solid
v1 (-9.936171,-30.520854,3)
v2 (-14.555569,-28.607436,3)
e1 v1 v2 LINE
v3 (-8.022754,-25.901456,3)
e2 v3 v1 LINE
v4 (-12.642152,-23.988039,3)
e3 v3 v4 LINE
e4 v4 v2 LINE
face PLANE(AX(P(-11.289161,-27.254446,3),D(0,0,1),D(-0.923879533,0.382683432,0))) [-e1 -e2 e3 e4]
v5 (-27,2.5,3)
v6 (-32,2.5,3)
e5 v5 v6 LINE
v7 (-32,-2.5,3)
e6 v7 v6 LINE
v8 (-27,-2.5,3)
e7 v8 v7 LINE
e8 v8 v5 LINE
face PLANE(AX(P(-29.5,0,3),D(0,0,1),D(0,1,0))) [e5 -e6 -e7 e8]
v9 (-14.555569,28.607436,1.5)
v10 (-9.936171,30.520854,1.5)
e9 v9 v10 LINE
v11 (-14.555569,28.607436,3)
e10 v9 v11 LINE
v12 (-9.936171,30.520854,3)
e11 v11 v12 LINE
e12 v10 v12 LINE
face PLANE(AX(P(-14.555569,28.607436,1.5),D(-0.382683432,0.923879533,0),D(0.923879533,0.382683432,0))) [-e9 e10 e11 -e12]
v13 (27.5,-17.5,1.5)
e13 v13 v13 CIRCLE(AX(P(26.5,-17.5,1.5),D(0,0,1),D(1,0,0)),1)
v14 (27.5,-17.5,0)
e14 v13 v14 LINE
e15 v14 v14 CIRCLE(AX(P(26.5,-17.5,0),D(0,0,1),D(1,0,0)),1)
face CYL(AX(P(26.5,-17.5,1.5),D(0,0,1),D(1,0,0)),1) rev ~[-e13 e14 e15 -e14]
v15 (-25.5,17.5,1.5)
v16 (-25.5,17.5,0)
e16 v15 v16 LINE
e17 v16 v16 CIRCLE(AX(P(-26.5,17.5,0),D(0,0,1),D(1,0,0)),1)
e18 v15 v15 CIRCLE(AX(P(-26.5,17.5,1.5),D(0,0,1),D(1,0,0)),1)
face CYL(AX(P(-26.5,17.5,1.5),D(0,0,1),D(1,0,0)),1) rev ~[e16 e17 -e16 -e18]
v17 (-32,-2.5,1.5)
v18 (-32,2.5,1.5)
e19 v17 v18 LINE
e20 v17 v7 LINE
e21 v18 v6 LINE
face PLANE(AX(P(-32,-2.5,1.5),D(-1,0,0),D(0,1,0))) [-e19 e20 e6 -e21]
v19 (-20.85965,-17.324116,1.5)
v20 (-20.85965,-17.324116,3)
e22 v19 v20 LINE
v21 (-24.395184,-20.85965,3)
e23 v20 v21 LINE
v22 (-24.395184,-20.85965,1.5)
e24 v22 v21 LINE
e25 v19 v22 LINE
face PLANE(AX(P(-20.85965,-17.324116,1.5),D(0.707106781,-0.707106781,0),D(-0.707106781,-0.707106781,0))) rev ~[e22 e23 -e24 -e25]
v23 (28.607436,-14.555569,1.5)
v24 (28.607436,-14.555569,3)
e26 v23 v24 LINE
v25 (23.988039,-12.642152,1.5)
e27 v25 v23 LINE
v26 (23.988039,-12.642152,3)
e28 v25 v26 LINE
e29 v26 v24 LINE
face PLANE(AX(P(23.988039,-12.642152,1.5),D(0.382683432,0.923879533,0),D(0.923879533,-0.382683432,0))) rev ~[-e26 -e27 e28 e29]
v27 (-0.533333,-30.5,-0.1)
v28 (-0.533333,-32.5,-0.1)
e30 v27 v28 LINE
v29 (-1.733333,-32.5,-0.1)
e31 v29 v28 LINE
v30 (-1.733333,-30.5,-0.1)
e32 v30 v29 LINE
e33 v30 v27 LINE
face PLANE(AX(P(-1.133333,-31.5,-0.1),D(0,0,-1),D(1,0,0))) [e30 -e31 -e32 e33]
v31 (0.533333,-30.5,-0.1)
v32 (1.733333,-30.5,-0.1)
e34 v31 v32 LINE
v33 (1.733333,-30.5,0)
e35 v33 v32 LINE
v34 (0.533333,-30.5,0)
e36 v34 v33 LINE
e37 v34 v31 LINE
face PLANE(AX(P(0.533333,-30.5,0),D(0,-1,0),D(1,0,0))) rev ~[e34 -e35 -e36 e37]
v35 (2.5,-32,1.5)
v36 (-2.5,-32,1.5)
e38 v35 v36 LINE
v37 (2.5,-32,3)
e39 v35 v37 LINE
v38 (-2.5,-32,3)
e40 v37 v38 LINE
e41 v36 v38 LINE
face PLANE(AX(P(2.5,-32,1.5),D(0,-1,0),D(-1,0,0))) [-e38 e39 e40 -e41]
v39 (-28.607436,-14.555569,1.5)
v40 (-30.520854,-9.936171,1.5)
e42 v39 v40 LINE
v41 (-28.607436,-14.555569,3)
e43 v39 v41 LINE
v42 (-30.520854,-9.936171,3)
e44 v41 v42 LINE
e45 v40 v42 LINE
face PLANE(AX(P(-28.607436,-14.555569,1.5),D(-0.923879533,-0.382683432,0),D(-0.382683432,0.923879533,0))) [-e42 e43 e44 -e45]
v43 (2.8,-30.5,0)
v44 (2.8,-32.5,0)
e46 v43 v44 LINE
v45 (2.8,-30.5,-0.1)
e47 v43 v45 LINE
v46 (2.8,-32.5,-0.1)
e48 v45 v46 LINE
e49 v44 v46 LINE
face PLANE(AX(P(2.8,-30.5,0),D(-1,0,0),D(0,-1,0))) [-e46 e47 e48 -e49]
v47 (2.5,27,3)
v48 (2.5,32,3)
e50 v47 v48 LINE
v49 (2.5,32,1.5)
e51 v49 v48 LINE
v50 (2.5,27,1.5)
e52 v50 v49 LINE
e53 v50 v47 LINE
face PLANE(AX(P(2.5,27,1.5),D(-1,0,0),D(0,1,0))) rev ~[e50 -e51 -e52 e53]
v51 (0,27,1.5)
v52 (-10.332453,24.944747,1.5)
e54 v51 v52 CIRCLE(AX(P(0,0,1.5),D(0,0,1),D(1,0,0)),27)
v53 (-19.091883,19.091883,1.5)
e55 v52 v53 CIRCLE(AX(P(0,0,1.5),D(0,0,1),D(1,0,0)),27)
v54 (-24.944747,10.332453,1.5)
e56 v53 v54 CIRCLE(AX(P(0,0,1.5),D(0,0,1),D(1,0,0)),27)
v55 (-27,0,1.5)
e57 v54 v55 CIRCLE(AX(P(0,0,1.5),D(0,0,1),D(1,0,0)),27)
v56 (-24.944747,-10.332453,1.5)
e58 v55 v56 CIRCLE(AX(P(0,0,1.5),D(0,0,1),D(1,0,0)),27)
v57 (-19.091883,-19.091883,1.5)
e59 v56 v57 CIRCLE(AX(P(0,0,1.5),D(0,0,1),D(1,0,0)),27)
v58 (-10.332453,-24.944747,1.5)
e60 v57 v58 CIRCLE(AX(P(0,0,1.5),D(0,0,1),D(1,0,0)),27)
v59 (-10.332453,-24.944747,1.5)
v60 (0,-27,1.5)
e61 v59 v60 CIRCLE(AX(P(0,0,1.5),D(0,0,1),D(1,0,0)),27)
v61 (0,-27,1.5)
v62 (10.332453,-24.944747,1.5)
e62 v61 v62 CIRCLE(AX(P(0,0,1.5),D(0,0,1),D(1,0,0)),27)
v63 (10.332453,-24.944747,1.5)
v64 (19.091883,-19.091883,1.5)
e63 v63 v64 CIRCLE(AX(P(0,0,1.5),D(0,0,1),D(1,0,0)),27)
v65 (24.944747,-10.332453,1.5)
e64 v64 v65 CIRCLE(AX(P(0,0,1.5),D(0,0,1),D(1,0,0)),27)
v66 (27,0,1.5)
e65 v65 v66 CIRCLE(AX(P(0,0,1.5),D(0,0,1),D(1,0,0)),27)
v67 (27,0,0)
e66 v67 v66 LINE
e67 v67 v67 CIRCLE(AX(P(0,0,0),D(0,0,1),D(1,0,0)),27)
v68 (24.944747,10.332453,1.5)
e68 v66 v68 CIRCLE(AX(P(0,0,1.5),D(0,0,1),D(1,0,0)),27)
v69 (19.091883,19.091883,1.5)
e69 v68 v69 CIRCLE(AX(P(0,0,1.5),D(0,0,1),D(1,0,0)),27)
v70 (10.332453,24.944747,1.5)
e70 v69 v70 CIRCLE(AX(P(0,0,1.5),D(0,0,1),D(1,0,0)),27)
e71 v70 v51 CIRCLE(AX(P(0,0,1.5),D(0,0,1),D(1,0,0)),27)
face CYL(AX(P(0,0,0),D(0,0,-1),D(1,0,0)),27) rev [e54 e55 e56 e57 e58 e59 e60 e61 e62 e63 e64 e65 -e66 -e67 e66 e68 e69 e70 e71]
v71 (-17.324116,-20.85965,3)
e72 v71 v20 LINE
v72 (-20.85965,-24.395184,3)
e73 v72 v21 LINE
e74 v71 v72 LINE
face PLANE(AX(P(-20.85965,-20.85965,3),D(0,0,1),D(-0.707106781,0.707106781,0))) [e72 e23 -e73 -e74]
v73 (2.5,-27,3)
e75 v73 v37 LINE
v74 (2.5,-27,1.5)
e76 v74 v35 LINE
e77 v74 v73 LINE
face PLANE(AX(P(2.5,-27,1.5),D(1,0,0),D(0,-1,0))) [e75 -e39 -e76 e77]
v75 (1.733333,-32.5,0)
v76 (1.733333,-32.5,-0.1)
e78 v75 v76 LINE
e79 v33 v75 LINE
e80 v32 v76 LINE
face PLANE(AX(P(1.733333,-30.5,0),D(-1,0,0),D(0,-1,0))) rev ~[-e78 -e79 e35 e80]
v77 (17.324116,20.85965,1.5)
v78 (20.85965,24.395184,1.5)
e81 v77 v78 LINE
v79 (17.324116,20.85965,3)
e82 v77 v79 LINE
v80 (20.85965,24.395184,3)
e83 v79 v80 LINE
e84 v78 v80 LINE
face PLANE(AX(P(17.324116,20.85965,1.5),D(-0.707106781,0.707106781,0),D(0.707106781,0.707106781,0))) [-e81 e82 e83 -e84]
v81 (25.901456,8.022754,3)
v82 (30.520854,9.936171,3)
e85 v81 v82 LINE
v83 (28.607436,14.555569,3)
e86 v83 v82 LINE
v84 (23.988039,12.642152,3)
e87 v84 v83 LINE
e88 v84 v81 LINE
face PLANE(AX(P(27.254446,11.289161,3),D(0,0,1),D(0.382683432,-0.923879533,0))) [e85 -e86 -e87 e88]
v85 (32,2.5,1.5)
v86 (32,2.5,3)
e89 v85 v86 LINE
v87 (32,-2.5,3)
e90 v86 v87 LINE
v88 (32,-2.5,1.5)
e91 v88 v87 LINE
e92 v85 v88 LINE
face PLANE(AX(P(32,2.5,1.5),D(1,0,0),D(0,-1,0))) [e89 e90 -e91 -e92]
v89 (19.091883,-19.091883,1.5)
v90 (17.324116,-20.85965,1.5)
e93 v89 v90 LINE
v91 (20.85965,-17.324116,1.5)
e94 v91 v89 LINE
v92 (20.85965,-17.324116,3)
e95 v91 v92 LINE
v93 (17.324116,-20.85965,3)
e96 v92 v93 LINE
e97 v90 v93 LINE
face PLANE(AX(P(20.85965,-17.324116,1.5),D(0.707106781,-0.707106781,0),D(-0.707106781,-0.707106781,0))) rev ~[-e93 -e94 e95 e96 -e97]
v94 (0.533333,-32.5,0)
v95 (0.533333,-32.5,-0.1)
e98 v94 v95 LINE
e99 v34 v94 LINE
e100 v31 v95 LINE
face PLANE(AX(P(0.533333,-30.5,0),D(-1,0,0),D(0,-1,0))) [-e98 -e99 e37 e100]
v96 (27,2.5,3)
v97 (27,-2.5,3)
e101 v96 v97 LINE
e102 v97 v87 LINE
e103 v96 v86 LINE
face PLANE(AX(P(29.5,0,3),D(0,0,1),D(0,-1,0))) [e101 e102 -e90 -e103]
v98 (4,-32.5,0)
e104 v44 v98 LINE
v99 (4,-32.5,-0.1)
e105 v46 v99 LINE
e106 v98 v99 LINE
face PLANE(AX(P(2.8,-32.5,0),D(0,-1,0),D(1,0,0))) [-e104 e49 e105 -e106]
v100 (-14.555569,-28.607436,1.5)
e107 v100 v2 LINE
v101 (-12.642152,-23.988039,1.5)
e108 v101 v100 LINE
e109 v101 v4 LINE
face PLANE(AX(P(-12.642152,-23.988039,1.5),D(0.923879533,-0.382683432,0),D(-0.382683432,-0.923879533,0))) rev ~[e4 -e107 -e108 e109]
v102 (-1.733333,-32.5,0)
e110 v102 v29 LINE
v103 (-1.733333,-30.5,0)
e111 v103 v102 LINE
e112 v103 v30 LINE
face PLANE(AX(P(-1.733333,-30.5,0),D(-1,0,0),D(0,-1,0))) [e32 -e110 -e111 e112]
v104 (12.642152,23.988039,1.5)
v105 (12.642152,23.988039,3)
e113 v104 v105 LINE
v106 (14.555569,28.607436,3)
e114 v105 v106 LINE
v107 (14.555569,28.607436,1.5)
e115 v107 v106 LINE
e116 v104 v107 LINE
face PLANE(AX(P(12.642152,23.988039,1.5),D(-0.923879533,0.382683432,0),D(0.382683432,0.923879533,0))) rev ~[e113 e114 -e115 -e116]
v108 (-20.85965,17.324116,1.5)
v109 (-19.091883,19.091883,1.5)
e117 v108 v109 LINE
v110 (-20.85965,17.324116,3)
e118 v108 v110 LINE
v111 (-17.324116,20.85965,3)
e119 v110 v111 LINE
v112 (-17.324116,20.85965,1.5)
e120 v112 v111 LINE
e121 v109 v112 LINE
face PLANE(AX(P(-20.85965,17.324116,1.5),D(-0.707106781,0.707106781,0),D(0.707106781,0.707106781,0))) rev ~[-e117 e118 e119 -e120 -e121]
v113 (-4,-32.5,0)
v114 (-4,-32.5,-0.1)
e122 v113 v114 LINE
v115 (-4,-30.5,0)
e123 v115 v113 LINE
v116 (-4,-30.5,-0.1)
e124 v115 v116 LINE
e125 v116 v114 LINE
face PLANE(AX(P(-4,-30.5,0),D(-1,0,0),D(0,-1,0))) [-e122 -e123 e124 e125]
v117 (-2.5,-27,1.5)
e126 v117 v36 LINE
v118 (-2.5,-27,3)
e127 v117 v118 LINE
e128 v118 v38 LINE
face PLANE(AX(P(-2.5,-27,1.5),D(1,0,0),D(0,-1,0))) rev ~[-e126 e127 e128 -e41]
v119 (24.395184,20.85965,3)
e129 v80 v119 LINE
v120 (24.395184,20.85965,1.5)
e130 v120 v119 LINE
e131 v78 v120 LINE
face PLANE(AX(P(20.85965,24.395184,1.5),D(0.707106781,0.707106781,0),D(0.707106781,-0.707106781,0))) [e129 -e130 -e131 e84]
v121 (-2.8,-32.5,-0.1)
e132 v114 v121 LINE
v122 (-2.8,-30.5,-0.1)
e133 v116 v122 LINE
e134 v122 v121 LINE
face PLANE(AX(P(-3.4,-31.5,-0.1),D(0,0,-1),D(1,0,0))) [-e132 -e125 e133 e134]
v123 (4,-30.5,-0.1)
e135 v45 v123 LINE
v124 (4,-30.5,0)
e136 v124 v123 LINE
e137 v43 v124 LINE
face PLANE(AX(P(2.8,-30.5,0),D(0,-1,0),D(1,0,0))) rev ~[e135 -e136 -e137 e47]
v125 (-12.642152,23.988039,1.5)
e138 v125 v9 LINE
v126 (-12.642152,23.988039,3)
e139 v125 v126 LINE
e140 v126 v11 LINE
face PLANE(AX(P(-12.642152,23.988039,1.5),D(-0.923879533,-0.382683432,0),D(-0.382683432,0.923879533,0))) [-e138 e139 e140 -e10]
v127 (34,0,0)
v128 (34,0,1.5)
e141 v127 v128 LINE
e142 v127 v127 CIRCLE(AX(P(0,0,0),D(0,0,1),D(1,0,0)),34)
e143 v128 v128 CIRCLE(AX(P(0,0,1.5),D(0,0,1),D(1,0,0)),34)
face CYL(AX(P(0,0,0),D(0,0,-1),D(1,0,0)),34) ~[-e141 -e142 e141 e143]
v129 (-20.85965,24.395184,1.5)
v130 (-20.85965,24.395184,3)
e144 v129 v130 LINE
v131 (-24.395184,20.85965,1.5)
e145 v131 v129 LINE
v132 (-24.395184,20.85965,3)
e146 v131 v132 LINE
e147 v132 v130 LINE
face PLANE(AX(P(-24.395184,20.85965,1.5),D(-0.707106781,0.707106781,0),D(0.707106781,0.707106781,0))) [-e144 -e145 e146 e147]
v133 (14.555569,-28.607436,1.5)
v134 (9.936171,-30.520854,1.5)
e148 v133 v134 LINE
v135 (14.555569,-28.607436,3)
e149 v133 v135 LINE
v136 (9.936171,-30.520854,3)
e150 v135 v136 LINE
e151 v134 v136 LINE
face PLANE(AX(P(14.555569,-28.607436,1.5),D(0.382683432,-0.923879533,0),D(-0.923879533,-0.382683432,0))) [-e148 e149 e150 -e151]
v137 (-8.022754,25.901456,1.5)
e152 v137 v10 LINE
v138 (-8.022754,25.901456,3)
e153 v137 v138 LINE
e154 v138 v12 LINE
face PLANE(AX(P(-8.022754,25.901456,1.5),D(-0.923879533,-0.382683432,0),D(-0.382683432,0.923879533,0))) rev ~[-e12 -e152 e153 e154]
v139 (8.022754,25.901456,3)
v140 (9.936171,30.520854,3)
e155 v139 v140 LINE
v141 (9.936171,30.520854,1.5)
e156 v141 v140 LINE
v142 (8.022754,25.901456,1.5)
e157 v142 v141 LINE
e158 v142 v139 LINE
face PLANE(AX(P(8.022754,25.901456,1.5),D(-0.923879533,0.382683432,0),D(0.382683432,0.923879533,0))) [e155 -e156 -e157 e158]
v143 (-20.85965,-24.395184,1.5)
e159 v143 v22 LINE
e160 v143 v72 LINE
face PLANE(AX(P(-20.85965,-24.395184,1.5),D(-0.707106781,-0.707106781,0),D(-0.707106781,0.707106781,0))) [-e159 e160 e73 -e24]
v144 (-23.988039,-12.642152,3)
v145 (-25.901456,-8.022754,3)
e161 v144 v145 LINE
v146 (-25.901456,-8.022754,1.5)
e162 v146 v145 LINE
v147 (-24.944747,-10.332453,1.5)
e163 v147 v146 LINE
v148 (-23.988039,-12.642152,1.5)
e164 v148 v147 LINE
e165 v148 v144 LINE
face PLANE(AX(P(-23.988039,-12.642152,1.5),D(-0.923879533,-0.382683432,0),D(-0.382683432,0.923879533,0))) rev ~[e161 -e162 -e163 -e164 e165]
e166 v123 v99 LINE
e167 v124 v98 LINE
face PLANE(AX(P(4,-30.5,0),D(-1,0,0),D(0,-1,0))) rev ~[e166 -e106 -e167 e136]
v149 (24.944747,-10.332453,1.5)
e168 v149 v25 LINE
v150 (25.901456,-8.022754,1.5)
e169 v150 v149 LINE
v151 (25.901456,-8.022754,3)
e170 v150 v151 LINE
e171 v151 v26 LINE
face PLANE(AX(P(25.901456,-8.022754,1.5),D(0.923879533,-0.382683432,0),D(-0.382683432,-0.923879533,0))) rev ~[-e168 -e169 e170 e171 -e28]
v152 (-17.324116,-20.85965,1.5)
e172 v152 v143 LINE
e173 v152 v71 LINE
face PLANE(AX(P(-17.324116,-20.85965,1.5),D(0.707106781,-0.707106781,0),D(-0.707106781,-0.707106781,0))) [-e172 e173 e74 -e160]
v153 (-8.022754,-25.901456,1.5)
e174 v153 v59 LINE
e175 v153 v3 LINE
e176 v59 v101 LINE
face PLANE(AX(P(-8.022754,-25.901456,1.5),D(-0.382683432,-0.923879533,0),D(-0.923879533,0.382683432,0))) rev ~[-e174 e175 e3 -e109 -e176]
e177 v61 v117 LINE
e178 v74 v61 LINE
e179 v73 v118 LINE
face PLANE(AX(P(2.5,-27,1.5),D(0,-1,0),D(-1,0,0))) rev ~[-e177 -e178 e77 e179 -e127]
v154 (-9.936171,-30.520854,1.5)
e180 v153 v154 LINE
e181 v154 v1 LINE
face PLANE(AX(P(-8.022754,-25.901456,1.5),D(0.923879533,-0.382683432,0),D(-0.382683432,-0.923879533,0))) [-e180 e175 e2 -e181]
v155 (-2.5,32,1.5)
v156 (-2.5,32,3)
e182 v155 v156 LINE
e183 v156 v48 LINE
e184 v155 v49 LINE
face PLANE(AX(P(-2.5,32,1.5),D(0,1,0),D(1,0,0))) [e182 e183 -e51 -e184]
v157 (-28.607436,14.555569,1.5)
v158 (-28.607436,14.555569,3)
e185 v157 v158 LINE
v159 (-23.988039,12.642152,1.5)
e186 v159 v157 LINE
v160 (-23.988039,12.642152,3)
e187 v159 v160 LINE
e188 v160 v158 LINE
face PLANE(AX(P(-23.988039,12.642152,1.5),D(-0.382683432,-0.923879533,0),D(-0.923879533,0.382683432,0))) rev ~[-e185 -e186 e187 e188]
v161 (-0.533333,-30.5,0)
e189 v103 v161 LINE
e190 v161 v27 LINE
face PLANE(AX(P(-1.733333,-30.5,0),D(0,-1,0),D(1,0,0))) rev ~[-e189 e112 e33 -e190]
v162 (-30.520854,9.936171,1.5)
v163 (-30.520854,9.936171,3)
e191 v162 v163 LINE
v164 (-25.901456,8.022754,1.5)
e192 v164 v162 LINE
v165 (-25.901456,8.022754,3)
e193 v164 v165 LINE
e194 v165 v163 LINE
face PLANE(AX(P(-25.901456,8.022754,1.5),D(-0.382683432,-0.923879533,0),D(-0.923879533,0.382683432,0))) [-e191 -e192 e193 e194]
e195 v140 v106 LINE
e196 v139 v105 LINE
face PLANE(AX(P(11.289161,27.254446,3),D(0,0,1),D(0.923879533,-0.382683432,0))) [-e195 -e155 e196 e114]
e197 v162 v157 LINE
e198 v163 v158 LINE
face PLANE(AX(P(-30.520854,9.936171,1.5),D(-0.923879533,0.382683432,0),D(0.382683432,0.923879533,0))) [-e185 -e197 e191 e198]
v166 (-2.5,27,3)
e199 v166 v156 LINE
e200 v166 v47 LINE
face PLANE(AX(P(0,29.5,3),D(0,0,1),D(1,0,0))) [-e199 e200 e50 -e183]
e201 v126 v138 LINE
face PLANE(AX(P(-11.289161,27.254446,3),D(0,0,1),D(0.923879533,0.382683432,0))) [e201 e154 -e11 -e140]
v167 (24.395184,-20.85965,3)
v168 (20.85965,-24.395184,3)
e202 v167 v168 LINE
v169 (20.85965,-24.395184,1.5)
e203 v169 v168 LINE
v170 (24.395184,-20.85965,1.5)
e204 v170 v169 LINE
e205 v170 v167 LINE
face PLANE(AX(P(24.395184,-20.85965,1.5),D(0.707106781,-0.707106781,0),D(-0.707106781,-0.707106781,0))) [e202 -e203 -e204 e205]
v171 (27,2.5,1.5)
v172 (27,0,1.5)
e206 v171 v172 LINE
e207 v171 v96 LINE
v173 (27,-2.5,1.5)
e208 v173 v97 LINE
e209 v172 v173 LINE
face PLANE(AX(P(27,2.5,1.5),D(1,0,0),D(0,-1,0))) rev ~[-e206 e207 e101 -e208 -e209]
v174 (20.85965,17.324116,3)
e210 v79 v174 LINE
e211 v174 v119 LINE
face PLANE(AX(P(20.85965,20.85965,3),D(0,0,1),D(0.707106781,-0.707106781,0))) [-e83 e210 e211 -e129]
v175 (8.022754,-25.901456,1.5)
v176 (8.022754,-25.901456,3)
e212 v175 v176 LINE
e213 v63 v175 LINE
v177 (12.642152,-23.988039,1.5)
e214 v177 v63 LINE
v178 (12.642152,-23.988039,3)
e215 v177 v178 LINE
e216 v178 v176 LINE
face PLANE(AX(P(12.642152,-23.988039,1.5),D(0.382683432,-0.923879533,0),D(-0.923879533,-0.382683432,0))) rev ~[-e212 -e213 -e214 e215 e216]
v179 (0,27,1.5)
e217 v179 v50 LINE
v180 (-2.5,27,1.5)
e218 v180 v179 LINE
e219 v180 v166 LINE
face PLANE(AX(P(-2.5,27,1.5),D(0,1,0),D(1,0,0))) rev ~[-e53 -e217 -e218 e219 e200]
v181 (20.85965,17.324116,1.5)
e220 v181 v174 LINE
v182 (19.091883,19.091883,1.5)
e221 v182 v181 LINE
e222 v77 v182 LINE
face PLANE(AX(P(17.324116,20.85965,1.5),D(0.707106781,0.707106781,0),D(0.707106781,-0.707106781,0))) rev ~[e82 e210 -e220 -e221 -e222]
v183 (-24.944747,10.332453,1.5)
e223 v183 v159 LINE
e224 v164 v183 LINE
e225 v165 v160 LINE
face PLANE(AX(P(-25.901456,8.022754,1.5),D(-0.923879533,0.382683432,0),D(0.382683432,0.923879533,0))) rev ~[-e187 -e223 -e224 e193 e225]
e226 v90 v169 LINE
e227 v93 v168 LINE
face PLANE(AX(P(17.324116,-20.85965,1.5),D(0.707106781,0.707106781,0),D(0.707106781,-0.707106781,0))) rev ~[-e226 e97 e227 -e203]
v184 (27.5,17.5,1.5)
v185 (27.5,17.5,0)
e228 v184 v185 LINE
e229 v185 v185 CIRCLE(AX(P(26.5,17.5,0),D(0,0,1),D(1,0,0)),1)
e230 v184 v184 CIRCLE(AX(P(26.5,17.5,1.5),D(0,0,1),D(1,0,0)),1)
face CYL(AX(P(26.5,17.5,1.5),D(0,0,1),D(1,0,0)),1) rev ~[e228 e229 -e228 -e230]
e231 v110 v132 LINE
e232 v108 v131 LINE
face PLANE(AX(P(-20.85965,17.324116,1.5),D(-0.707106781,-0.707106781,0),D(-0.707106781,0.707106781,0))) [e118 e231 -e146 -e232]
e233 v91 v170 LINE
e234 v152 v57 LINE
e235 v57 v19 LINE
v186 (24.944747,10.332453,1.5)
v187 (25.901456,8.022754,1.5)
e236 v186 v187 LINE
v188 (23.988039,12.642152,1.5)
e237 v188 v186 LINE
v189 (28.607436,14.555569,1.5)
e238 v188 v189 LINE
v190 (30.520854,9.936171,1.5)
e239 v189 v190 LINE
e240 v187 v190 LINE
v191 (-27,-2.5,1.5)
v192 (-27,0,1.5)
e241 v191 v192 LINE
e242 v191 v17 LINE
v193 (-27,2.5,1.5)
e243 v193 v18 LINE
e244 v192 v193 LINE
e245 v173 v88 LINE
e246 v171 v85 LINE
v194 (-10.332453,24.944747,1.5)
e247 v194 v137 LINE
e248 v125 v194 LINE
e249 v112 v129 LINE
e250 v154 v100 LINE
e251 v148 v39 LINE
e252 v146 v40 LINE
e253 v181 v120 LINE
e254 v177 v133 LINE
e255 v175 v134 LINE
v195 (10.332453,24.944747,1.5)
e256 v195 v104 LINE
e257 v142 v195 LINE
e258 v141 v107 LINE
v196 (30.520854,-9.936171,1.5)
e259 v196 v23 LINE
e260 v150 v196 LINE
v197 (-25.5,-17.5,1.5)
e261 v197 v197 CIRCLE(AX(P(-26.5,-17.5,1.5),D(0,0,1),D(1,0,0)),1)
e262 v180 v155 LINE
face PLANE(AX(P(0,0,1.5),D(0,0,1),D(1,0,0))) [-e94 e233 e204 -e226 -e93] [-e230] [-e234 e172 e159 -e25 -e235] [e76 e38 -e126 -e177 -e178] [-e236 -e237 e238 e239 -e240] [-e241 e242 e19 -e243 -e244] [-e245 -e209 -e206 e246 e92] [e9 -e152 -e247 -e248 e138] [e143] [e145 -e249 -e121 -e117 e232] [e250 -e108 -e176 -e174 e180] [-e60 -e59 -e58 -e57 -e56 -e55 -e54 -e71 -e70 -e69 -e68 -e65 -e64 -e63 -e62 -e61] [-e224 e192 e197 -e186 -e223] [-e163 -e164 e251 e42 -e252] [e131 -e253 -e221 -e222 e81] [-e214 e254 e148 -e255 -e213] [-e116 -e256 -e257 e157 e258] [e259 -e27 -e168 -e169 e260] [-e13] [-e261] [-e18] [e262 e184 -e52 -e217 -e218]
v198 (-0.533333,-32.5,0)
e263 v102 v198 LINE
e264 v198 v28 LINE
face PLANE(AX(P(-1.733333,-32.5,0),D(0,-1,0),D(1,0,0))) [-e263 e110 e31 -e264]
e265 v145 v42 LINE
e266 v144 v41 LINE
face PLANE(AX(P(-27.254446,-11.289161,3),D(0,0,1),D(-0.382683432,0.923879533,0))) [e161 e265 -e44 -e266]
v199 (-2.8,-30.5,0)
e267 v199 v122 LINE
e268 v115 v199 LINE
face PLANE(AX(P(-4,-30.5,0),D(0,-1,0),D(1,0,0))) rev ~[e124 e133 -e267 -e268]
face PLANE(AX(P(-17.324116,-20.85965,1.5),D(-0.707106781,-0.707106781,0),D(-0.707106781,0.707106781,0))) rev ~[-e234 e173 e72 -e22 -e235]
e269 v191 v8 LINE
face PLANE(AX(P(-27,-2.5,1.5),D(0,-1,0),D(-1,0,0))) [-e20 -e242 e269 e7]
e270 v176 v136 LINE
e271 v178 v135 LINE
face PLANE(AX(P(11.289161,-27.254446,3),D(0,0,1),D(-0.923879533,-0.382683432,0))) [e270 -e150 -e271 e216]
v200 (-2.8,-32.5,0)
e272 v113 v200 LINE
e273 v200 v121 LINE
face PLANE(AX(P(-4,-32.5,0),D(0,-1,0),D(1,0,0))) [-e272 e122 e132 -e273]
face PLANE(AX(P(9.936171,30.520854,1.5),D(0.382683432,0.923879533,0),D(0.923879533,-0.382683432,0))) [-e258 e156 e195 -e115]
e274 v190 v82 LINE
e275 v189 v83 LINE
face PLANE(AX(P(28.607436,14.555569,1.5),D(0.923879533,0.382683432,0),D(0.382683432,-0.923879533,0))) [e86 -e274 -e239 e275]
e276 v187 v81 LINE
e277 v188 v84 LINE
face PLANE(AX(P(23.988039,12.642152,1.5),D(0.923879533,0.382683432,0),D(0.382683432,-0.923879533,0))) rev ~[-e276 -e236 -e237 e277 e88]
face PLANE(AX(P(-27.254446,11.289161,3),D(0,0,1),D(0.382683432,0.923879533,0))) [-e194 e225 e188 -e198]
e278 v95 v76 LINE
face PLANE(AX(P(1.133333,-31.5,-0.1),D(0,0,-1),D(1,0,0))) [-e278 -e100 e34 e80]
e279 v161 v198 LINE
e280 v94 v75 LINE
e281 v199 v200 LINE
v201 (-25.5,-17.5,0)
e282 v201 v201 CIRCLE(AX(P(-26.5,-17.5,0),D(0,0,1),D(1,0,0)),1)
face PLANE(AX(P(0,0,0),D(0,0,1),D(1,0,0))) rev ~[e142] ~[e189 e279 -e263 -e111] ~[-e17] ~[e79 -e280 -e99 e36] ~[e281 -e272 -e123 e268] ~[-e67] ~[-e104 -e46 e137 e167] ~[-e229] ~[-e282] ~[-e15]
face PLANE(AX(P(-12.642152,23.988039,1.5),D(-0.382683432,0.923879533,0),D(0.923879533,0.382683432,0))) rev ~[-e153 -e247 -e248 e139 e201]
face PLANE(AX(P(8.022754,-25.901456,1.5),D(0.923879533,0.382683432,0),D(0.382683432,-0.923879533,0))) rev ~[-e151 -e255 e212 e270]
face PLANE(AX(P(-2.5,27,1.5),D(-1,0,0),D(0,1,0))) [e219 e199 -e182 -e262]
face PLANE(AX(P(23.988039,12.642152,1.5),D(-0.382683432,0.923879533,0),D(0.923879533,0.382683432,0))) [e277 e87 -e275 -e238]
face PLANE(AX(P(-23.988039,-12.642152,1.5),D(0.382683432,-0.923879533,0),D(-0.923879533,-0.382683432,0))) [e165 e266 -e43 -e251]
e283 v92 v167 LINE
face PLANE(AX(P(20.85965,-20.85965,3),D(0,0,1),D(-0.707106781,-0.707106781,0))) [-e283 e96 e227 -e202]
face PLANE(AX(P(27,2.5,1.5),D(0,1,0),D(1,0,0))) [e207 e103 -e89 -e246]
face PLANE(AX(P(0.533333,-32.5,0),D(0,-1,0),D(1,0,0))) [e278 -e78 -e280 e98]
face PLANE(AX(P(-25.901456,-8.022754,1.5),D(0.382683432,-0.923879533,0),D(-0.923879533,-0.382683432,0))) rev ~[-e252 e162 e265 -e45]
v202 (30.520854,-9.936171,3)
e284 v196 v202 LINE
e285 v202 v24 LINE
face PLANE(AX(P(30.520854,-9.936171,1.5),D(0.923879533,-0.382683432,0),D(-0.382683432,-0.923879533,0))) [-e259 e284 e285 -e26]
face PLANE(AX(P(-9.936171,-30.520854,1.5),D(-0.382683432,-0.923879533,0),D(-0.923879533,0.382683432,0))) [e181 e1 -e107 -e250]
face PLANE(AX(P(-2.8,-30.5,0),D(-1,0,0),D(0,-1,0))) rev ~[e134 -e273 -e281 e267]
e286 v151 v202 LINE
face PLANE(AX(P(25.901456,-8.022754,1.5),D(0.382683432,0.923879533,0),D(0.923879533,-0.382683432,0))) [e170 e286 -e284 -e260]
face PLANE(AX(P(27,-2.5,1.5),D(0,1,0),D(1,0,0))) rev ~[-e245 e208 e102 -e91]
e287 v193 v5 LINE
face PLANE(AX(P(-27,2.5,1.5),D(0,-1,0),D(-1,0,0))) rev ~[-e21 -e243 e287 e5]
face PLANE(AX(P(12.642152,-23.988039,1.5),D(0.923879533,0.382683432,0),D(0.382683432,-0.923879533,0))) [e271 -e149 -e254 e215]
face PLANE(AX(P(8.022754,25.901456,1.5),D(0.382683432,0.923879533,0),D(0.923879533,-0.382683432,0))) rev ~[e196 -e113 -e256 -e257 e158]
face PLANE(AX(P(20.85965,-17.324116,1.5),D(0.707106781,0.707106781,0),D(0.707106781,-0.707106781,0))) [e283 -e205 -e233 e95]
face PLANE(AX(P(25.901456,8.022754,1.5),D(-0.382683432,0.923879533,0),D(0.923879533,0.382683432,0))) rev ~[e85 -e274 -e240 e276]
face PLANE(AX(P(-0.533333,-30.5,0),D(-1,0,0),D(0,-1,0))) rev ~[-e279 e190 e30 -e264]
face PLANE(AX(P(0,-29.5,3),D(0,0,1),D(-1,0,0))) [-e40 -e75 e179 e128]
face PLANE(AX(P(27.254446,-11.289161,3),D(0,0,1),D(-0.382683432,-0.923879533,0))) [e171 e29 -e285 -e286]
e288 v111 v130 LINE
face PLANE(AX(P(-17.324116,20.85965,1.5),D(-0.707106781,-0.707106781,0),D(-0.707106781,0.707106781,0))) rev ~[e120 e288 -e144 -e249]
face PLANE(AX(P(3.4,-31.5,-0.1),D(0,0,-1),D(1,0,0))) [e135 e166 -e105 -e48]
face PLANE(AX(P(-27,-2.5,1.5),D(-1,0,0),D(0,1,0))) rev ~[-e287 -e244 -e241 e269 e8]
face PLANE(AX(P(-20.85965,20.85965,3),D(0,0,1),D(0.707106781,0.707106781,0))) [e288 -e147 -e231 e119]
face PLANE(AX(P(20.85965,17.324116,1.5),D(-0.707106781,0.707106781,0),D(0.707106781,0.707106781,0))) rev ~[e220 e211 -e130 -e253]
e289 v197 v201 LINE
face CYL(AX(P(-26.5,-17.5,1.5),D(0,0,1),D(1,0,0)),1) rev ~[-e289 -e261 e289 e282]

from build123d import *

# Parameters (mm, degrees)
SKETCH_R           = 34
SKETCH_R_2         = 27
PAD_DEPTH          = 1.5
SKETCH001_W        = 1.2
SKETCH001_H        = 2
PAD001_DEPTH       = 0.1
SKETCH002_R        = 1
POCKET_DEPTH       = 1.601
SKETCH003_W        = 5
SKETCH003_H        = 5
PAD002_DEPTH       = 1.5
POLARPATTERN_COUNT = 16


with BuildPart() as part:
    # Sketch → Pad (new body)
    with BuildSketch(Plane.XY):
        Circle(SKETCH_R)
        Circle(SKETCH_R_2, mode=Mode.SUBTRACT)
    extrude(amount=PAD_DEPTH)

    # Sketch001 (on Face3 of Pad) → Pad001 (join)
    with BuildSketch(Plane(origin=(0, 0, 0), x_dir=(1, 0, 0), z_dir=(0, 0, -1))):
        with Locations((-3.4, 31.5)):
            Rectangle(SKETCH001_W, SKETCH001_H)
        with Locations((-1.133333, 31.5)):
            Rectangle(SKETCH001_W, SKETCH001_H)
        with Locations((1.133333, 31.5)):
            Rectangle(SKETCH001_W, SKETCH001_H)
        with Locations((3.4, 31.5)):
            Rectangle(SKETCH001_W, SKETCH001_H)
    extrude(amount=PAD001_DEPTH)

    # Sketch002 (on Face3 of Pad001) → Pocket (cut, through all)
    with BuildSketch(Plane.XY.offset(1.5)):
        with Locations((-26.5, 17.5)):
            Circle(SKETCH002_R)
        with Locations((26.5, 17.5)):
            Circle(SKETCH002_R)
        with Locations((26.5, -17.5)):
            Circle(SKETCH002_R)
        with Locations((-26.5, -17.5)):
            Circle(SKETCH002_R)
    extrude(amount=-POCKET_DEPTH, mode=Mode.SUBTRACT)

    # Sketch003 (on Face3 of Pocket) → Pad002 (join)
    with BuildSketch(Plane.XY.offset(1.5)):
        with Locations((0, 29.5)):
            Rectangle(SKETCH003_W, SKETCH003_H)
    pad002 = extrude(amount=PAD002_DEPTH)

    # PolarPattern: Pad002 ×16 about axis
    polarpattern_axis = Axis((0, 0, 1.5), (0, 0, 1))
    for i in range(1, POLARPATTERN_COUNT):
        add(pad002.rotate(polarpattern_axis, i * 360 / POLARPATTERN_COUNT))


solid = part.part
